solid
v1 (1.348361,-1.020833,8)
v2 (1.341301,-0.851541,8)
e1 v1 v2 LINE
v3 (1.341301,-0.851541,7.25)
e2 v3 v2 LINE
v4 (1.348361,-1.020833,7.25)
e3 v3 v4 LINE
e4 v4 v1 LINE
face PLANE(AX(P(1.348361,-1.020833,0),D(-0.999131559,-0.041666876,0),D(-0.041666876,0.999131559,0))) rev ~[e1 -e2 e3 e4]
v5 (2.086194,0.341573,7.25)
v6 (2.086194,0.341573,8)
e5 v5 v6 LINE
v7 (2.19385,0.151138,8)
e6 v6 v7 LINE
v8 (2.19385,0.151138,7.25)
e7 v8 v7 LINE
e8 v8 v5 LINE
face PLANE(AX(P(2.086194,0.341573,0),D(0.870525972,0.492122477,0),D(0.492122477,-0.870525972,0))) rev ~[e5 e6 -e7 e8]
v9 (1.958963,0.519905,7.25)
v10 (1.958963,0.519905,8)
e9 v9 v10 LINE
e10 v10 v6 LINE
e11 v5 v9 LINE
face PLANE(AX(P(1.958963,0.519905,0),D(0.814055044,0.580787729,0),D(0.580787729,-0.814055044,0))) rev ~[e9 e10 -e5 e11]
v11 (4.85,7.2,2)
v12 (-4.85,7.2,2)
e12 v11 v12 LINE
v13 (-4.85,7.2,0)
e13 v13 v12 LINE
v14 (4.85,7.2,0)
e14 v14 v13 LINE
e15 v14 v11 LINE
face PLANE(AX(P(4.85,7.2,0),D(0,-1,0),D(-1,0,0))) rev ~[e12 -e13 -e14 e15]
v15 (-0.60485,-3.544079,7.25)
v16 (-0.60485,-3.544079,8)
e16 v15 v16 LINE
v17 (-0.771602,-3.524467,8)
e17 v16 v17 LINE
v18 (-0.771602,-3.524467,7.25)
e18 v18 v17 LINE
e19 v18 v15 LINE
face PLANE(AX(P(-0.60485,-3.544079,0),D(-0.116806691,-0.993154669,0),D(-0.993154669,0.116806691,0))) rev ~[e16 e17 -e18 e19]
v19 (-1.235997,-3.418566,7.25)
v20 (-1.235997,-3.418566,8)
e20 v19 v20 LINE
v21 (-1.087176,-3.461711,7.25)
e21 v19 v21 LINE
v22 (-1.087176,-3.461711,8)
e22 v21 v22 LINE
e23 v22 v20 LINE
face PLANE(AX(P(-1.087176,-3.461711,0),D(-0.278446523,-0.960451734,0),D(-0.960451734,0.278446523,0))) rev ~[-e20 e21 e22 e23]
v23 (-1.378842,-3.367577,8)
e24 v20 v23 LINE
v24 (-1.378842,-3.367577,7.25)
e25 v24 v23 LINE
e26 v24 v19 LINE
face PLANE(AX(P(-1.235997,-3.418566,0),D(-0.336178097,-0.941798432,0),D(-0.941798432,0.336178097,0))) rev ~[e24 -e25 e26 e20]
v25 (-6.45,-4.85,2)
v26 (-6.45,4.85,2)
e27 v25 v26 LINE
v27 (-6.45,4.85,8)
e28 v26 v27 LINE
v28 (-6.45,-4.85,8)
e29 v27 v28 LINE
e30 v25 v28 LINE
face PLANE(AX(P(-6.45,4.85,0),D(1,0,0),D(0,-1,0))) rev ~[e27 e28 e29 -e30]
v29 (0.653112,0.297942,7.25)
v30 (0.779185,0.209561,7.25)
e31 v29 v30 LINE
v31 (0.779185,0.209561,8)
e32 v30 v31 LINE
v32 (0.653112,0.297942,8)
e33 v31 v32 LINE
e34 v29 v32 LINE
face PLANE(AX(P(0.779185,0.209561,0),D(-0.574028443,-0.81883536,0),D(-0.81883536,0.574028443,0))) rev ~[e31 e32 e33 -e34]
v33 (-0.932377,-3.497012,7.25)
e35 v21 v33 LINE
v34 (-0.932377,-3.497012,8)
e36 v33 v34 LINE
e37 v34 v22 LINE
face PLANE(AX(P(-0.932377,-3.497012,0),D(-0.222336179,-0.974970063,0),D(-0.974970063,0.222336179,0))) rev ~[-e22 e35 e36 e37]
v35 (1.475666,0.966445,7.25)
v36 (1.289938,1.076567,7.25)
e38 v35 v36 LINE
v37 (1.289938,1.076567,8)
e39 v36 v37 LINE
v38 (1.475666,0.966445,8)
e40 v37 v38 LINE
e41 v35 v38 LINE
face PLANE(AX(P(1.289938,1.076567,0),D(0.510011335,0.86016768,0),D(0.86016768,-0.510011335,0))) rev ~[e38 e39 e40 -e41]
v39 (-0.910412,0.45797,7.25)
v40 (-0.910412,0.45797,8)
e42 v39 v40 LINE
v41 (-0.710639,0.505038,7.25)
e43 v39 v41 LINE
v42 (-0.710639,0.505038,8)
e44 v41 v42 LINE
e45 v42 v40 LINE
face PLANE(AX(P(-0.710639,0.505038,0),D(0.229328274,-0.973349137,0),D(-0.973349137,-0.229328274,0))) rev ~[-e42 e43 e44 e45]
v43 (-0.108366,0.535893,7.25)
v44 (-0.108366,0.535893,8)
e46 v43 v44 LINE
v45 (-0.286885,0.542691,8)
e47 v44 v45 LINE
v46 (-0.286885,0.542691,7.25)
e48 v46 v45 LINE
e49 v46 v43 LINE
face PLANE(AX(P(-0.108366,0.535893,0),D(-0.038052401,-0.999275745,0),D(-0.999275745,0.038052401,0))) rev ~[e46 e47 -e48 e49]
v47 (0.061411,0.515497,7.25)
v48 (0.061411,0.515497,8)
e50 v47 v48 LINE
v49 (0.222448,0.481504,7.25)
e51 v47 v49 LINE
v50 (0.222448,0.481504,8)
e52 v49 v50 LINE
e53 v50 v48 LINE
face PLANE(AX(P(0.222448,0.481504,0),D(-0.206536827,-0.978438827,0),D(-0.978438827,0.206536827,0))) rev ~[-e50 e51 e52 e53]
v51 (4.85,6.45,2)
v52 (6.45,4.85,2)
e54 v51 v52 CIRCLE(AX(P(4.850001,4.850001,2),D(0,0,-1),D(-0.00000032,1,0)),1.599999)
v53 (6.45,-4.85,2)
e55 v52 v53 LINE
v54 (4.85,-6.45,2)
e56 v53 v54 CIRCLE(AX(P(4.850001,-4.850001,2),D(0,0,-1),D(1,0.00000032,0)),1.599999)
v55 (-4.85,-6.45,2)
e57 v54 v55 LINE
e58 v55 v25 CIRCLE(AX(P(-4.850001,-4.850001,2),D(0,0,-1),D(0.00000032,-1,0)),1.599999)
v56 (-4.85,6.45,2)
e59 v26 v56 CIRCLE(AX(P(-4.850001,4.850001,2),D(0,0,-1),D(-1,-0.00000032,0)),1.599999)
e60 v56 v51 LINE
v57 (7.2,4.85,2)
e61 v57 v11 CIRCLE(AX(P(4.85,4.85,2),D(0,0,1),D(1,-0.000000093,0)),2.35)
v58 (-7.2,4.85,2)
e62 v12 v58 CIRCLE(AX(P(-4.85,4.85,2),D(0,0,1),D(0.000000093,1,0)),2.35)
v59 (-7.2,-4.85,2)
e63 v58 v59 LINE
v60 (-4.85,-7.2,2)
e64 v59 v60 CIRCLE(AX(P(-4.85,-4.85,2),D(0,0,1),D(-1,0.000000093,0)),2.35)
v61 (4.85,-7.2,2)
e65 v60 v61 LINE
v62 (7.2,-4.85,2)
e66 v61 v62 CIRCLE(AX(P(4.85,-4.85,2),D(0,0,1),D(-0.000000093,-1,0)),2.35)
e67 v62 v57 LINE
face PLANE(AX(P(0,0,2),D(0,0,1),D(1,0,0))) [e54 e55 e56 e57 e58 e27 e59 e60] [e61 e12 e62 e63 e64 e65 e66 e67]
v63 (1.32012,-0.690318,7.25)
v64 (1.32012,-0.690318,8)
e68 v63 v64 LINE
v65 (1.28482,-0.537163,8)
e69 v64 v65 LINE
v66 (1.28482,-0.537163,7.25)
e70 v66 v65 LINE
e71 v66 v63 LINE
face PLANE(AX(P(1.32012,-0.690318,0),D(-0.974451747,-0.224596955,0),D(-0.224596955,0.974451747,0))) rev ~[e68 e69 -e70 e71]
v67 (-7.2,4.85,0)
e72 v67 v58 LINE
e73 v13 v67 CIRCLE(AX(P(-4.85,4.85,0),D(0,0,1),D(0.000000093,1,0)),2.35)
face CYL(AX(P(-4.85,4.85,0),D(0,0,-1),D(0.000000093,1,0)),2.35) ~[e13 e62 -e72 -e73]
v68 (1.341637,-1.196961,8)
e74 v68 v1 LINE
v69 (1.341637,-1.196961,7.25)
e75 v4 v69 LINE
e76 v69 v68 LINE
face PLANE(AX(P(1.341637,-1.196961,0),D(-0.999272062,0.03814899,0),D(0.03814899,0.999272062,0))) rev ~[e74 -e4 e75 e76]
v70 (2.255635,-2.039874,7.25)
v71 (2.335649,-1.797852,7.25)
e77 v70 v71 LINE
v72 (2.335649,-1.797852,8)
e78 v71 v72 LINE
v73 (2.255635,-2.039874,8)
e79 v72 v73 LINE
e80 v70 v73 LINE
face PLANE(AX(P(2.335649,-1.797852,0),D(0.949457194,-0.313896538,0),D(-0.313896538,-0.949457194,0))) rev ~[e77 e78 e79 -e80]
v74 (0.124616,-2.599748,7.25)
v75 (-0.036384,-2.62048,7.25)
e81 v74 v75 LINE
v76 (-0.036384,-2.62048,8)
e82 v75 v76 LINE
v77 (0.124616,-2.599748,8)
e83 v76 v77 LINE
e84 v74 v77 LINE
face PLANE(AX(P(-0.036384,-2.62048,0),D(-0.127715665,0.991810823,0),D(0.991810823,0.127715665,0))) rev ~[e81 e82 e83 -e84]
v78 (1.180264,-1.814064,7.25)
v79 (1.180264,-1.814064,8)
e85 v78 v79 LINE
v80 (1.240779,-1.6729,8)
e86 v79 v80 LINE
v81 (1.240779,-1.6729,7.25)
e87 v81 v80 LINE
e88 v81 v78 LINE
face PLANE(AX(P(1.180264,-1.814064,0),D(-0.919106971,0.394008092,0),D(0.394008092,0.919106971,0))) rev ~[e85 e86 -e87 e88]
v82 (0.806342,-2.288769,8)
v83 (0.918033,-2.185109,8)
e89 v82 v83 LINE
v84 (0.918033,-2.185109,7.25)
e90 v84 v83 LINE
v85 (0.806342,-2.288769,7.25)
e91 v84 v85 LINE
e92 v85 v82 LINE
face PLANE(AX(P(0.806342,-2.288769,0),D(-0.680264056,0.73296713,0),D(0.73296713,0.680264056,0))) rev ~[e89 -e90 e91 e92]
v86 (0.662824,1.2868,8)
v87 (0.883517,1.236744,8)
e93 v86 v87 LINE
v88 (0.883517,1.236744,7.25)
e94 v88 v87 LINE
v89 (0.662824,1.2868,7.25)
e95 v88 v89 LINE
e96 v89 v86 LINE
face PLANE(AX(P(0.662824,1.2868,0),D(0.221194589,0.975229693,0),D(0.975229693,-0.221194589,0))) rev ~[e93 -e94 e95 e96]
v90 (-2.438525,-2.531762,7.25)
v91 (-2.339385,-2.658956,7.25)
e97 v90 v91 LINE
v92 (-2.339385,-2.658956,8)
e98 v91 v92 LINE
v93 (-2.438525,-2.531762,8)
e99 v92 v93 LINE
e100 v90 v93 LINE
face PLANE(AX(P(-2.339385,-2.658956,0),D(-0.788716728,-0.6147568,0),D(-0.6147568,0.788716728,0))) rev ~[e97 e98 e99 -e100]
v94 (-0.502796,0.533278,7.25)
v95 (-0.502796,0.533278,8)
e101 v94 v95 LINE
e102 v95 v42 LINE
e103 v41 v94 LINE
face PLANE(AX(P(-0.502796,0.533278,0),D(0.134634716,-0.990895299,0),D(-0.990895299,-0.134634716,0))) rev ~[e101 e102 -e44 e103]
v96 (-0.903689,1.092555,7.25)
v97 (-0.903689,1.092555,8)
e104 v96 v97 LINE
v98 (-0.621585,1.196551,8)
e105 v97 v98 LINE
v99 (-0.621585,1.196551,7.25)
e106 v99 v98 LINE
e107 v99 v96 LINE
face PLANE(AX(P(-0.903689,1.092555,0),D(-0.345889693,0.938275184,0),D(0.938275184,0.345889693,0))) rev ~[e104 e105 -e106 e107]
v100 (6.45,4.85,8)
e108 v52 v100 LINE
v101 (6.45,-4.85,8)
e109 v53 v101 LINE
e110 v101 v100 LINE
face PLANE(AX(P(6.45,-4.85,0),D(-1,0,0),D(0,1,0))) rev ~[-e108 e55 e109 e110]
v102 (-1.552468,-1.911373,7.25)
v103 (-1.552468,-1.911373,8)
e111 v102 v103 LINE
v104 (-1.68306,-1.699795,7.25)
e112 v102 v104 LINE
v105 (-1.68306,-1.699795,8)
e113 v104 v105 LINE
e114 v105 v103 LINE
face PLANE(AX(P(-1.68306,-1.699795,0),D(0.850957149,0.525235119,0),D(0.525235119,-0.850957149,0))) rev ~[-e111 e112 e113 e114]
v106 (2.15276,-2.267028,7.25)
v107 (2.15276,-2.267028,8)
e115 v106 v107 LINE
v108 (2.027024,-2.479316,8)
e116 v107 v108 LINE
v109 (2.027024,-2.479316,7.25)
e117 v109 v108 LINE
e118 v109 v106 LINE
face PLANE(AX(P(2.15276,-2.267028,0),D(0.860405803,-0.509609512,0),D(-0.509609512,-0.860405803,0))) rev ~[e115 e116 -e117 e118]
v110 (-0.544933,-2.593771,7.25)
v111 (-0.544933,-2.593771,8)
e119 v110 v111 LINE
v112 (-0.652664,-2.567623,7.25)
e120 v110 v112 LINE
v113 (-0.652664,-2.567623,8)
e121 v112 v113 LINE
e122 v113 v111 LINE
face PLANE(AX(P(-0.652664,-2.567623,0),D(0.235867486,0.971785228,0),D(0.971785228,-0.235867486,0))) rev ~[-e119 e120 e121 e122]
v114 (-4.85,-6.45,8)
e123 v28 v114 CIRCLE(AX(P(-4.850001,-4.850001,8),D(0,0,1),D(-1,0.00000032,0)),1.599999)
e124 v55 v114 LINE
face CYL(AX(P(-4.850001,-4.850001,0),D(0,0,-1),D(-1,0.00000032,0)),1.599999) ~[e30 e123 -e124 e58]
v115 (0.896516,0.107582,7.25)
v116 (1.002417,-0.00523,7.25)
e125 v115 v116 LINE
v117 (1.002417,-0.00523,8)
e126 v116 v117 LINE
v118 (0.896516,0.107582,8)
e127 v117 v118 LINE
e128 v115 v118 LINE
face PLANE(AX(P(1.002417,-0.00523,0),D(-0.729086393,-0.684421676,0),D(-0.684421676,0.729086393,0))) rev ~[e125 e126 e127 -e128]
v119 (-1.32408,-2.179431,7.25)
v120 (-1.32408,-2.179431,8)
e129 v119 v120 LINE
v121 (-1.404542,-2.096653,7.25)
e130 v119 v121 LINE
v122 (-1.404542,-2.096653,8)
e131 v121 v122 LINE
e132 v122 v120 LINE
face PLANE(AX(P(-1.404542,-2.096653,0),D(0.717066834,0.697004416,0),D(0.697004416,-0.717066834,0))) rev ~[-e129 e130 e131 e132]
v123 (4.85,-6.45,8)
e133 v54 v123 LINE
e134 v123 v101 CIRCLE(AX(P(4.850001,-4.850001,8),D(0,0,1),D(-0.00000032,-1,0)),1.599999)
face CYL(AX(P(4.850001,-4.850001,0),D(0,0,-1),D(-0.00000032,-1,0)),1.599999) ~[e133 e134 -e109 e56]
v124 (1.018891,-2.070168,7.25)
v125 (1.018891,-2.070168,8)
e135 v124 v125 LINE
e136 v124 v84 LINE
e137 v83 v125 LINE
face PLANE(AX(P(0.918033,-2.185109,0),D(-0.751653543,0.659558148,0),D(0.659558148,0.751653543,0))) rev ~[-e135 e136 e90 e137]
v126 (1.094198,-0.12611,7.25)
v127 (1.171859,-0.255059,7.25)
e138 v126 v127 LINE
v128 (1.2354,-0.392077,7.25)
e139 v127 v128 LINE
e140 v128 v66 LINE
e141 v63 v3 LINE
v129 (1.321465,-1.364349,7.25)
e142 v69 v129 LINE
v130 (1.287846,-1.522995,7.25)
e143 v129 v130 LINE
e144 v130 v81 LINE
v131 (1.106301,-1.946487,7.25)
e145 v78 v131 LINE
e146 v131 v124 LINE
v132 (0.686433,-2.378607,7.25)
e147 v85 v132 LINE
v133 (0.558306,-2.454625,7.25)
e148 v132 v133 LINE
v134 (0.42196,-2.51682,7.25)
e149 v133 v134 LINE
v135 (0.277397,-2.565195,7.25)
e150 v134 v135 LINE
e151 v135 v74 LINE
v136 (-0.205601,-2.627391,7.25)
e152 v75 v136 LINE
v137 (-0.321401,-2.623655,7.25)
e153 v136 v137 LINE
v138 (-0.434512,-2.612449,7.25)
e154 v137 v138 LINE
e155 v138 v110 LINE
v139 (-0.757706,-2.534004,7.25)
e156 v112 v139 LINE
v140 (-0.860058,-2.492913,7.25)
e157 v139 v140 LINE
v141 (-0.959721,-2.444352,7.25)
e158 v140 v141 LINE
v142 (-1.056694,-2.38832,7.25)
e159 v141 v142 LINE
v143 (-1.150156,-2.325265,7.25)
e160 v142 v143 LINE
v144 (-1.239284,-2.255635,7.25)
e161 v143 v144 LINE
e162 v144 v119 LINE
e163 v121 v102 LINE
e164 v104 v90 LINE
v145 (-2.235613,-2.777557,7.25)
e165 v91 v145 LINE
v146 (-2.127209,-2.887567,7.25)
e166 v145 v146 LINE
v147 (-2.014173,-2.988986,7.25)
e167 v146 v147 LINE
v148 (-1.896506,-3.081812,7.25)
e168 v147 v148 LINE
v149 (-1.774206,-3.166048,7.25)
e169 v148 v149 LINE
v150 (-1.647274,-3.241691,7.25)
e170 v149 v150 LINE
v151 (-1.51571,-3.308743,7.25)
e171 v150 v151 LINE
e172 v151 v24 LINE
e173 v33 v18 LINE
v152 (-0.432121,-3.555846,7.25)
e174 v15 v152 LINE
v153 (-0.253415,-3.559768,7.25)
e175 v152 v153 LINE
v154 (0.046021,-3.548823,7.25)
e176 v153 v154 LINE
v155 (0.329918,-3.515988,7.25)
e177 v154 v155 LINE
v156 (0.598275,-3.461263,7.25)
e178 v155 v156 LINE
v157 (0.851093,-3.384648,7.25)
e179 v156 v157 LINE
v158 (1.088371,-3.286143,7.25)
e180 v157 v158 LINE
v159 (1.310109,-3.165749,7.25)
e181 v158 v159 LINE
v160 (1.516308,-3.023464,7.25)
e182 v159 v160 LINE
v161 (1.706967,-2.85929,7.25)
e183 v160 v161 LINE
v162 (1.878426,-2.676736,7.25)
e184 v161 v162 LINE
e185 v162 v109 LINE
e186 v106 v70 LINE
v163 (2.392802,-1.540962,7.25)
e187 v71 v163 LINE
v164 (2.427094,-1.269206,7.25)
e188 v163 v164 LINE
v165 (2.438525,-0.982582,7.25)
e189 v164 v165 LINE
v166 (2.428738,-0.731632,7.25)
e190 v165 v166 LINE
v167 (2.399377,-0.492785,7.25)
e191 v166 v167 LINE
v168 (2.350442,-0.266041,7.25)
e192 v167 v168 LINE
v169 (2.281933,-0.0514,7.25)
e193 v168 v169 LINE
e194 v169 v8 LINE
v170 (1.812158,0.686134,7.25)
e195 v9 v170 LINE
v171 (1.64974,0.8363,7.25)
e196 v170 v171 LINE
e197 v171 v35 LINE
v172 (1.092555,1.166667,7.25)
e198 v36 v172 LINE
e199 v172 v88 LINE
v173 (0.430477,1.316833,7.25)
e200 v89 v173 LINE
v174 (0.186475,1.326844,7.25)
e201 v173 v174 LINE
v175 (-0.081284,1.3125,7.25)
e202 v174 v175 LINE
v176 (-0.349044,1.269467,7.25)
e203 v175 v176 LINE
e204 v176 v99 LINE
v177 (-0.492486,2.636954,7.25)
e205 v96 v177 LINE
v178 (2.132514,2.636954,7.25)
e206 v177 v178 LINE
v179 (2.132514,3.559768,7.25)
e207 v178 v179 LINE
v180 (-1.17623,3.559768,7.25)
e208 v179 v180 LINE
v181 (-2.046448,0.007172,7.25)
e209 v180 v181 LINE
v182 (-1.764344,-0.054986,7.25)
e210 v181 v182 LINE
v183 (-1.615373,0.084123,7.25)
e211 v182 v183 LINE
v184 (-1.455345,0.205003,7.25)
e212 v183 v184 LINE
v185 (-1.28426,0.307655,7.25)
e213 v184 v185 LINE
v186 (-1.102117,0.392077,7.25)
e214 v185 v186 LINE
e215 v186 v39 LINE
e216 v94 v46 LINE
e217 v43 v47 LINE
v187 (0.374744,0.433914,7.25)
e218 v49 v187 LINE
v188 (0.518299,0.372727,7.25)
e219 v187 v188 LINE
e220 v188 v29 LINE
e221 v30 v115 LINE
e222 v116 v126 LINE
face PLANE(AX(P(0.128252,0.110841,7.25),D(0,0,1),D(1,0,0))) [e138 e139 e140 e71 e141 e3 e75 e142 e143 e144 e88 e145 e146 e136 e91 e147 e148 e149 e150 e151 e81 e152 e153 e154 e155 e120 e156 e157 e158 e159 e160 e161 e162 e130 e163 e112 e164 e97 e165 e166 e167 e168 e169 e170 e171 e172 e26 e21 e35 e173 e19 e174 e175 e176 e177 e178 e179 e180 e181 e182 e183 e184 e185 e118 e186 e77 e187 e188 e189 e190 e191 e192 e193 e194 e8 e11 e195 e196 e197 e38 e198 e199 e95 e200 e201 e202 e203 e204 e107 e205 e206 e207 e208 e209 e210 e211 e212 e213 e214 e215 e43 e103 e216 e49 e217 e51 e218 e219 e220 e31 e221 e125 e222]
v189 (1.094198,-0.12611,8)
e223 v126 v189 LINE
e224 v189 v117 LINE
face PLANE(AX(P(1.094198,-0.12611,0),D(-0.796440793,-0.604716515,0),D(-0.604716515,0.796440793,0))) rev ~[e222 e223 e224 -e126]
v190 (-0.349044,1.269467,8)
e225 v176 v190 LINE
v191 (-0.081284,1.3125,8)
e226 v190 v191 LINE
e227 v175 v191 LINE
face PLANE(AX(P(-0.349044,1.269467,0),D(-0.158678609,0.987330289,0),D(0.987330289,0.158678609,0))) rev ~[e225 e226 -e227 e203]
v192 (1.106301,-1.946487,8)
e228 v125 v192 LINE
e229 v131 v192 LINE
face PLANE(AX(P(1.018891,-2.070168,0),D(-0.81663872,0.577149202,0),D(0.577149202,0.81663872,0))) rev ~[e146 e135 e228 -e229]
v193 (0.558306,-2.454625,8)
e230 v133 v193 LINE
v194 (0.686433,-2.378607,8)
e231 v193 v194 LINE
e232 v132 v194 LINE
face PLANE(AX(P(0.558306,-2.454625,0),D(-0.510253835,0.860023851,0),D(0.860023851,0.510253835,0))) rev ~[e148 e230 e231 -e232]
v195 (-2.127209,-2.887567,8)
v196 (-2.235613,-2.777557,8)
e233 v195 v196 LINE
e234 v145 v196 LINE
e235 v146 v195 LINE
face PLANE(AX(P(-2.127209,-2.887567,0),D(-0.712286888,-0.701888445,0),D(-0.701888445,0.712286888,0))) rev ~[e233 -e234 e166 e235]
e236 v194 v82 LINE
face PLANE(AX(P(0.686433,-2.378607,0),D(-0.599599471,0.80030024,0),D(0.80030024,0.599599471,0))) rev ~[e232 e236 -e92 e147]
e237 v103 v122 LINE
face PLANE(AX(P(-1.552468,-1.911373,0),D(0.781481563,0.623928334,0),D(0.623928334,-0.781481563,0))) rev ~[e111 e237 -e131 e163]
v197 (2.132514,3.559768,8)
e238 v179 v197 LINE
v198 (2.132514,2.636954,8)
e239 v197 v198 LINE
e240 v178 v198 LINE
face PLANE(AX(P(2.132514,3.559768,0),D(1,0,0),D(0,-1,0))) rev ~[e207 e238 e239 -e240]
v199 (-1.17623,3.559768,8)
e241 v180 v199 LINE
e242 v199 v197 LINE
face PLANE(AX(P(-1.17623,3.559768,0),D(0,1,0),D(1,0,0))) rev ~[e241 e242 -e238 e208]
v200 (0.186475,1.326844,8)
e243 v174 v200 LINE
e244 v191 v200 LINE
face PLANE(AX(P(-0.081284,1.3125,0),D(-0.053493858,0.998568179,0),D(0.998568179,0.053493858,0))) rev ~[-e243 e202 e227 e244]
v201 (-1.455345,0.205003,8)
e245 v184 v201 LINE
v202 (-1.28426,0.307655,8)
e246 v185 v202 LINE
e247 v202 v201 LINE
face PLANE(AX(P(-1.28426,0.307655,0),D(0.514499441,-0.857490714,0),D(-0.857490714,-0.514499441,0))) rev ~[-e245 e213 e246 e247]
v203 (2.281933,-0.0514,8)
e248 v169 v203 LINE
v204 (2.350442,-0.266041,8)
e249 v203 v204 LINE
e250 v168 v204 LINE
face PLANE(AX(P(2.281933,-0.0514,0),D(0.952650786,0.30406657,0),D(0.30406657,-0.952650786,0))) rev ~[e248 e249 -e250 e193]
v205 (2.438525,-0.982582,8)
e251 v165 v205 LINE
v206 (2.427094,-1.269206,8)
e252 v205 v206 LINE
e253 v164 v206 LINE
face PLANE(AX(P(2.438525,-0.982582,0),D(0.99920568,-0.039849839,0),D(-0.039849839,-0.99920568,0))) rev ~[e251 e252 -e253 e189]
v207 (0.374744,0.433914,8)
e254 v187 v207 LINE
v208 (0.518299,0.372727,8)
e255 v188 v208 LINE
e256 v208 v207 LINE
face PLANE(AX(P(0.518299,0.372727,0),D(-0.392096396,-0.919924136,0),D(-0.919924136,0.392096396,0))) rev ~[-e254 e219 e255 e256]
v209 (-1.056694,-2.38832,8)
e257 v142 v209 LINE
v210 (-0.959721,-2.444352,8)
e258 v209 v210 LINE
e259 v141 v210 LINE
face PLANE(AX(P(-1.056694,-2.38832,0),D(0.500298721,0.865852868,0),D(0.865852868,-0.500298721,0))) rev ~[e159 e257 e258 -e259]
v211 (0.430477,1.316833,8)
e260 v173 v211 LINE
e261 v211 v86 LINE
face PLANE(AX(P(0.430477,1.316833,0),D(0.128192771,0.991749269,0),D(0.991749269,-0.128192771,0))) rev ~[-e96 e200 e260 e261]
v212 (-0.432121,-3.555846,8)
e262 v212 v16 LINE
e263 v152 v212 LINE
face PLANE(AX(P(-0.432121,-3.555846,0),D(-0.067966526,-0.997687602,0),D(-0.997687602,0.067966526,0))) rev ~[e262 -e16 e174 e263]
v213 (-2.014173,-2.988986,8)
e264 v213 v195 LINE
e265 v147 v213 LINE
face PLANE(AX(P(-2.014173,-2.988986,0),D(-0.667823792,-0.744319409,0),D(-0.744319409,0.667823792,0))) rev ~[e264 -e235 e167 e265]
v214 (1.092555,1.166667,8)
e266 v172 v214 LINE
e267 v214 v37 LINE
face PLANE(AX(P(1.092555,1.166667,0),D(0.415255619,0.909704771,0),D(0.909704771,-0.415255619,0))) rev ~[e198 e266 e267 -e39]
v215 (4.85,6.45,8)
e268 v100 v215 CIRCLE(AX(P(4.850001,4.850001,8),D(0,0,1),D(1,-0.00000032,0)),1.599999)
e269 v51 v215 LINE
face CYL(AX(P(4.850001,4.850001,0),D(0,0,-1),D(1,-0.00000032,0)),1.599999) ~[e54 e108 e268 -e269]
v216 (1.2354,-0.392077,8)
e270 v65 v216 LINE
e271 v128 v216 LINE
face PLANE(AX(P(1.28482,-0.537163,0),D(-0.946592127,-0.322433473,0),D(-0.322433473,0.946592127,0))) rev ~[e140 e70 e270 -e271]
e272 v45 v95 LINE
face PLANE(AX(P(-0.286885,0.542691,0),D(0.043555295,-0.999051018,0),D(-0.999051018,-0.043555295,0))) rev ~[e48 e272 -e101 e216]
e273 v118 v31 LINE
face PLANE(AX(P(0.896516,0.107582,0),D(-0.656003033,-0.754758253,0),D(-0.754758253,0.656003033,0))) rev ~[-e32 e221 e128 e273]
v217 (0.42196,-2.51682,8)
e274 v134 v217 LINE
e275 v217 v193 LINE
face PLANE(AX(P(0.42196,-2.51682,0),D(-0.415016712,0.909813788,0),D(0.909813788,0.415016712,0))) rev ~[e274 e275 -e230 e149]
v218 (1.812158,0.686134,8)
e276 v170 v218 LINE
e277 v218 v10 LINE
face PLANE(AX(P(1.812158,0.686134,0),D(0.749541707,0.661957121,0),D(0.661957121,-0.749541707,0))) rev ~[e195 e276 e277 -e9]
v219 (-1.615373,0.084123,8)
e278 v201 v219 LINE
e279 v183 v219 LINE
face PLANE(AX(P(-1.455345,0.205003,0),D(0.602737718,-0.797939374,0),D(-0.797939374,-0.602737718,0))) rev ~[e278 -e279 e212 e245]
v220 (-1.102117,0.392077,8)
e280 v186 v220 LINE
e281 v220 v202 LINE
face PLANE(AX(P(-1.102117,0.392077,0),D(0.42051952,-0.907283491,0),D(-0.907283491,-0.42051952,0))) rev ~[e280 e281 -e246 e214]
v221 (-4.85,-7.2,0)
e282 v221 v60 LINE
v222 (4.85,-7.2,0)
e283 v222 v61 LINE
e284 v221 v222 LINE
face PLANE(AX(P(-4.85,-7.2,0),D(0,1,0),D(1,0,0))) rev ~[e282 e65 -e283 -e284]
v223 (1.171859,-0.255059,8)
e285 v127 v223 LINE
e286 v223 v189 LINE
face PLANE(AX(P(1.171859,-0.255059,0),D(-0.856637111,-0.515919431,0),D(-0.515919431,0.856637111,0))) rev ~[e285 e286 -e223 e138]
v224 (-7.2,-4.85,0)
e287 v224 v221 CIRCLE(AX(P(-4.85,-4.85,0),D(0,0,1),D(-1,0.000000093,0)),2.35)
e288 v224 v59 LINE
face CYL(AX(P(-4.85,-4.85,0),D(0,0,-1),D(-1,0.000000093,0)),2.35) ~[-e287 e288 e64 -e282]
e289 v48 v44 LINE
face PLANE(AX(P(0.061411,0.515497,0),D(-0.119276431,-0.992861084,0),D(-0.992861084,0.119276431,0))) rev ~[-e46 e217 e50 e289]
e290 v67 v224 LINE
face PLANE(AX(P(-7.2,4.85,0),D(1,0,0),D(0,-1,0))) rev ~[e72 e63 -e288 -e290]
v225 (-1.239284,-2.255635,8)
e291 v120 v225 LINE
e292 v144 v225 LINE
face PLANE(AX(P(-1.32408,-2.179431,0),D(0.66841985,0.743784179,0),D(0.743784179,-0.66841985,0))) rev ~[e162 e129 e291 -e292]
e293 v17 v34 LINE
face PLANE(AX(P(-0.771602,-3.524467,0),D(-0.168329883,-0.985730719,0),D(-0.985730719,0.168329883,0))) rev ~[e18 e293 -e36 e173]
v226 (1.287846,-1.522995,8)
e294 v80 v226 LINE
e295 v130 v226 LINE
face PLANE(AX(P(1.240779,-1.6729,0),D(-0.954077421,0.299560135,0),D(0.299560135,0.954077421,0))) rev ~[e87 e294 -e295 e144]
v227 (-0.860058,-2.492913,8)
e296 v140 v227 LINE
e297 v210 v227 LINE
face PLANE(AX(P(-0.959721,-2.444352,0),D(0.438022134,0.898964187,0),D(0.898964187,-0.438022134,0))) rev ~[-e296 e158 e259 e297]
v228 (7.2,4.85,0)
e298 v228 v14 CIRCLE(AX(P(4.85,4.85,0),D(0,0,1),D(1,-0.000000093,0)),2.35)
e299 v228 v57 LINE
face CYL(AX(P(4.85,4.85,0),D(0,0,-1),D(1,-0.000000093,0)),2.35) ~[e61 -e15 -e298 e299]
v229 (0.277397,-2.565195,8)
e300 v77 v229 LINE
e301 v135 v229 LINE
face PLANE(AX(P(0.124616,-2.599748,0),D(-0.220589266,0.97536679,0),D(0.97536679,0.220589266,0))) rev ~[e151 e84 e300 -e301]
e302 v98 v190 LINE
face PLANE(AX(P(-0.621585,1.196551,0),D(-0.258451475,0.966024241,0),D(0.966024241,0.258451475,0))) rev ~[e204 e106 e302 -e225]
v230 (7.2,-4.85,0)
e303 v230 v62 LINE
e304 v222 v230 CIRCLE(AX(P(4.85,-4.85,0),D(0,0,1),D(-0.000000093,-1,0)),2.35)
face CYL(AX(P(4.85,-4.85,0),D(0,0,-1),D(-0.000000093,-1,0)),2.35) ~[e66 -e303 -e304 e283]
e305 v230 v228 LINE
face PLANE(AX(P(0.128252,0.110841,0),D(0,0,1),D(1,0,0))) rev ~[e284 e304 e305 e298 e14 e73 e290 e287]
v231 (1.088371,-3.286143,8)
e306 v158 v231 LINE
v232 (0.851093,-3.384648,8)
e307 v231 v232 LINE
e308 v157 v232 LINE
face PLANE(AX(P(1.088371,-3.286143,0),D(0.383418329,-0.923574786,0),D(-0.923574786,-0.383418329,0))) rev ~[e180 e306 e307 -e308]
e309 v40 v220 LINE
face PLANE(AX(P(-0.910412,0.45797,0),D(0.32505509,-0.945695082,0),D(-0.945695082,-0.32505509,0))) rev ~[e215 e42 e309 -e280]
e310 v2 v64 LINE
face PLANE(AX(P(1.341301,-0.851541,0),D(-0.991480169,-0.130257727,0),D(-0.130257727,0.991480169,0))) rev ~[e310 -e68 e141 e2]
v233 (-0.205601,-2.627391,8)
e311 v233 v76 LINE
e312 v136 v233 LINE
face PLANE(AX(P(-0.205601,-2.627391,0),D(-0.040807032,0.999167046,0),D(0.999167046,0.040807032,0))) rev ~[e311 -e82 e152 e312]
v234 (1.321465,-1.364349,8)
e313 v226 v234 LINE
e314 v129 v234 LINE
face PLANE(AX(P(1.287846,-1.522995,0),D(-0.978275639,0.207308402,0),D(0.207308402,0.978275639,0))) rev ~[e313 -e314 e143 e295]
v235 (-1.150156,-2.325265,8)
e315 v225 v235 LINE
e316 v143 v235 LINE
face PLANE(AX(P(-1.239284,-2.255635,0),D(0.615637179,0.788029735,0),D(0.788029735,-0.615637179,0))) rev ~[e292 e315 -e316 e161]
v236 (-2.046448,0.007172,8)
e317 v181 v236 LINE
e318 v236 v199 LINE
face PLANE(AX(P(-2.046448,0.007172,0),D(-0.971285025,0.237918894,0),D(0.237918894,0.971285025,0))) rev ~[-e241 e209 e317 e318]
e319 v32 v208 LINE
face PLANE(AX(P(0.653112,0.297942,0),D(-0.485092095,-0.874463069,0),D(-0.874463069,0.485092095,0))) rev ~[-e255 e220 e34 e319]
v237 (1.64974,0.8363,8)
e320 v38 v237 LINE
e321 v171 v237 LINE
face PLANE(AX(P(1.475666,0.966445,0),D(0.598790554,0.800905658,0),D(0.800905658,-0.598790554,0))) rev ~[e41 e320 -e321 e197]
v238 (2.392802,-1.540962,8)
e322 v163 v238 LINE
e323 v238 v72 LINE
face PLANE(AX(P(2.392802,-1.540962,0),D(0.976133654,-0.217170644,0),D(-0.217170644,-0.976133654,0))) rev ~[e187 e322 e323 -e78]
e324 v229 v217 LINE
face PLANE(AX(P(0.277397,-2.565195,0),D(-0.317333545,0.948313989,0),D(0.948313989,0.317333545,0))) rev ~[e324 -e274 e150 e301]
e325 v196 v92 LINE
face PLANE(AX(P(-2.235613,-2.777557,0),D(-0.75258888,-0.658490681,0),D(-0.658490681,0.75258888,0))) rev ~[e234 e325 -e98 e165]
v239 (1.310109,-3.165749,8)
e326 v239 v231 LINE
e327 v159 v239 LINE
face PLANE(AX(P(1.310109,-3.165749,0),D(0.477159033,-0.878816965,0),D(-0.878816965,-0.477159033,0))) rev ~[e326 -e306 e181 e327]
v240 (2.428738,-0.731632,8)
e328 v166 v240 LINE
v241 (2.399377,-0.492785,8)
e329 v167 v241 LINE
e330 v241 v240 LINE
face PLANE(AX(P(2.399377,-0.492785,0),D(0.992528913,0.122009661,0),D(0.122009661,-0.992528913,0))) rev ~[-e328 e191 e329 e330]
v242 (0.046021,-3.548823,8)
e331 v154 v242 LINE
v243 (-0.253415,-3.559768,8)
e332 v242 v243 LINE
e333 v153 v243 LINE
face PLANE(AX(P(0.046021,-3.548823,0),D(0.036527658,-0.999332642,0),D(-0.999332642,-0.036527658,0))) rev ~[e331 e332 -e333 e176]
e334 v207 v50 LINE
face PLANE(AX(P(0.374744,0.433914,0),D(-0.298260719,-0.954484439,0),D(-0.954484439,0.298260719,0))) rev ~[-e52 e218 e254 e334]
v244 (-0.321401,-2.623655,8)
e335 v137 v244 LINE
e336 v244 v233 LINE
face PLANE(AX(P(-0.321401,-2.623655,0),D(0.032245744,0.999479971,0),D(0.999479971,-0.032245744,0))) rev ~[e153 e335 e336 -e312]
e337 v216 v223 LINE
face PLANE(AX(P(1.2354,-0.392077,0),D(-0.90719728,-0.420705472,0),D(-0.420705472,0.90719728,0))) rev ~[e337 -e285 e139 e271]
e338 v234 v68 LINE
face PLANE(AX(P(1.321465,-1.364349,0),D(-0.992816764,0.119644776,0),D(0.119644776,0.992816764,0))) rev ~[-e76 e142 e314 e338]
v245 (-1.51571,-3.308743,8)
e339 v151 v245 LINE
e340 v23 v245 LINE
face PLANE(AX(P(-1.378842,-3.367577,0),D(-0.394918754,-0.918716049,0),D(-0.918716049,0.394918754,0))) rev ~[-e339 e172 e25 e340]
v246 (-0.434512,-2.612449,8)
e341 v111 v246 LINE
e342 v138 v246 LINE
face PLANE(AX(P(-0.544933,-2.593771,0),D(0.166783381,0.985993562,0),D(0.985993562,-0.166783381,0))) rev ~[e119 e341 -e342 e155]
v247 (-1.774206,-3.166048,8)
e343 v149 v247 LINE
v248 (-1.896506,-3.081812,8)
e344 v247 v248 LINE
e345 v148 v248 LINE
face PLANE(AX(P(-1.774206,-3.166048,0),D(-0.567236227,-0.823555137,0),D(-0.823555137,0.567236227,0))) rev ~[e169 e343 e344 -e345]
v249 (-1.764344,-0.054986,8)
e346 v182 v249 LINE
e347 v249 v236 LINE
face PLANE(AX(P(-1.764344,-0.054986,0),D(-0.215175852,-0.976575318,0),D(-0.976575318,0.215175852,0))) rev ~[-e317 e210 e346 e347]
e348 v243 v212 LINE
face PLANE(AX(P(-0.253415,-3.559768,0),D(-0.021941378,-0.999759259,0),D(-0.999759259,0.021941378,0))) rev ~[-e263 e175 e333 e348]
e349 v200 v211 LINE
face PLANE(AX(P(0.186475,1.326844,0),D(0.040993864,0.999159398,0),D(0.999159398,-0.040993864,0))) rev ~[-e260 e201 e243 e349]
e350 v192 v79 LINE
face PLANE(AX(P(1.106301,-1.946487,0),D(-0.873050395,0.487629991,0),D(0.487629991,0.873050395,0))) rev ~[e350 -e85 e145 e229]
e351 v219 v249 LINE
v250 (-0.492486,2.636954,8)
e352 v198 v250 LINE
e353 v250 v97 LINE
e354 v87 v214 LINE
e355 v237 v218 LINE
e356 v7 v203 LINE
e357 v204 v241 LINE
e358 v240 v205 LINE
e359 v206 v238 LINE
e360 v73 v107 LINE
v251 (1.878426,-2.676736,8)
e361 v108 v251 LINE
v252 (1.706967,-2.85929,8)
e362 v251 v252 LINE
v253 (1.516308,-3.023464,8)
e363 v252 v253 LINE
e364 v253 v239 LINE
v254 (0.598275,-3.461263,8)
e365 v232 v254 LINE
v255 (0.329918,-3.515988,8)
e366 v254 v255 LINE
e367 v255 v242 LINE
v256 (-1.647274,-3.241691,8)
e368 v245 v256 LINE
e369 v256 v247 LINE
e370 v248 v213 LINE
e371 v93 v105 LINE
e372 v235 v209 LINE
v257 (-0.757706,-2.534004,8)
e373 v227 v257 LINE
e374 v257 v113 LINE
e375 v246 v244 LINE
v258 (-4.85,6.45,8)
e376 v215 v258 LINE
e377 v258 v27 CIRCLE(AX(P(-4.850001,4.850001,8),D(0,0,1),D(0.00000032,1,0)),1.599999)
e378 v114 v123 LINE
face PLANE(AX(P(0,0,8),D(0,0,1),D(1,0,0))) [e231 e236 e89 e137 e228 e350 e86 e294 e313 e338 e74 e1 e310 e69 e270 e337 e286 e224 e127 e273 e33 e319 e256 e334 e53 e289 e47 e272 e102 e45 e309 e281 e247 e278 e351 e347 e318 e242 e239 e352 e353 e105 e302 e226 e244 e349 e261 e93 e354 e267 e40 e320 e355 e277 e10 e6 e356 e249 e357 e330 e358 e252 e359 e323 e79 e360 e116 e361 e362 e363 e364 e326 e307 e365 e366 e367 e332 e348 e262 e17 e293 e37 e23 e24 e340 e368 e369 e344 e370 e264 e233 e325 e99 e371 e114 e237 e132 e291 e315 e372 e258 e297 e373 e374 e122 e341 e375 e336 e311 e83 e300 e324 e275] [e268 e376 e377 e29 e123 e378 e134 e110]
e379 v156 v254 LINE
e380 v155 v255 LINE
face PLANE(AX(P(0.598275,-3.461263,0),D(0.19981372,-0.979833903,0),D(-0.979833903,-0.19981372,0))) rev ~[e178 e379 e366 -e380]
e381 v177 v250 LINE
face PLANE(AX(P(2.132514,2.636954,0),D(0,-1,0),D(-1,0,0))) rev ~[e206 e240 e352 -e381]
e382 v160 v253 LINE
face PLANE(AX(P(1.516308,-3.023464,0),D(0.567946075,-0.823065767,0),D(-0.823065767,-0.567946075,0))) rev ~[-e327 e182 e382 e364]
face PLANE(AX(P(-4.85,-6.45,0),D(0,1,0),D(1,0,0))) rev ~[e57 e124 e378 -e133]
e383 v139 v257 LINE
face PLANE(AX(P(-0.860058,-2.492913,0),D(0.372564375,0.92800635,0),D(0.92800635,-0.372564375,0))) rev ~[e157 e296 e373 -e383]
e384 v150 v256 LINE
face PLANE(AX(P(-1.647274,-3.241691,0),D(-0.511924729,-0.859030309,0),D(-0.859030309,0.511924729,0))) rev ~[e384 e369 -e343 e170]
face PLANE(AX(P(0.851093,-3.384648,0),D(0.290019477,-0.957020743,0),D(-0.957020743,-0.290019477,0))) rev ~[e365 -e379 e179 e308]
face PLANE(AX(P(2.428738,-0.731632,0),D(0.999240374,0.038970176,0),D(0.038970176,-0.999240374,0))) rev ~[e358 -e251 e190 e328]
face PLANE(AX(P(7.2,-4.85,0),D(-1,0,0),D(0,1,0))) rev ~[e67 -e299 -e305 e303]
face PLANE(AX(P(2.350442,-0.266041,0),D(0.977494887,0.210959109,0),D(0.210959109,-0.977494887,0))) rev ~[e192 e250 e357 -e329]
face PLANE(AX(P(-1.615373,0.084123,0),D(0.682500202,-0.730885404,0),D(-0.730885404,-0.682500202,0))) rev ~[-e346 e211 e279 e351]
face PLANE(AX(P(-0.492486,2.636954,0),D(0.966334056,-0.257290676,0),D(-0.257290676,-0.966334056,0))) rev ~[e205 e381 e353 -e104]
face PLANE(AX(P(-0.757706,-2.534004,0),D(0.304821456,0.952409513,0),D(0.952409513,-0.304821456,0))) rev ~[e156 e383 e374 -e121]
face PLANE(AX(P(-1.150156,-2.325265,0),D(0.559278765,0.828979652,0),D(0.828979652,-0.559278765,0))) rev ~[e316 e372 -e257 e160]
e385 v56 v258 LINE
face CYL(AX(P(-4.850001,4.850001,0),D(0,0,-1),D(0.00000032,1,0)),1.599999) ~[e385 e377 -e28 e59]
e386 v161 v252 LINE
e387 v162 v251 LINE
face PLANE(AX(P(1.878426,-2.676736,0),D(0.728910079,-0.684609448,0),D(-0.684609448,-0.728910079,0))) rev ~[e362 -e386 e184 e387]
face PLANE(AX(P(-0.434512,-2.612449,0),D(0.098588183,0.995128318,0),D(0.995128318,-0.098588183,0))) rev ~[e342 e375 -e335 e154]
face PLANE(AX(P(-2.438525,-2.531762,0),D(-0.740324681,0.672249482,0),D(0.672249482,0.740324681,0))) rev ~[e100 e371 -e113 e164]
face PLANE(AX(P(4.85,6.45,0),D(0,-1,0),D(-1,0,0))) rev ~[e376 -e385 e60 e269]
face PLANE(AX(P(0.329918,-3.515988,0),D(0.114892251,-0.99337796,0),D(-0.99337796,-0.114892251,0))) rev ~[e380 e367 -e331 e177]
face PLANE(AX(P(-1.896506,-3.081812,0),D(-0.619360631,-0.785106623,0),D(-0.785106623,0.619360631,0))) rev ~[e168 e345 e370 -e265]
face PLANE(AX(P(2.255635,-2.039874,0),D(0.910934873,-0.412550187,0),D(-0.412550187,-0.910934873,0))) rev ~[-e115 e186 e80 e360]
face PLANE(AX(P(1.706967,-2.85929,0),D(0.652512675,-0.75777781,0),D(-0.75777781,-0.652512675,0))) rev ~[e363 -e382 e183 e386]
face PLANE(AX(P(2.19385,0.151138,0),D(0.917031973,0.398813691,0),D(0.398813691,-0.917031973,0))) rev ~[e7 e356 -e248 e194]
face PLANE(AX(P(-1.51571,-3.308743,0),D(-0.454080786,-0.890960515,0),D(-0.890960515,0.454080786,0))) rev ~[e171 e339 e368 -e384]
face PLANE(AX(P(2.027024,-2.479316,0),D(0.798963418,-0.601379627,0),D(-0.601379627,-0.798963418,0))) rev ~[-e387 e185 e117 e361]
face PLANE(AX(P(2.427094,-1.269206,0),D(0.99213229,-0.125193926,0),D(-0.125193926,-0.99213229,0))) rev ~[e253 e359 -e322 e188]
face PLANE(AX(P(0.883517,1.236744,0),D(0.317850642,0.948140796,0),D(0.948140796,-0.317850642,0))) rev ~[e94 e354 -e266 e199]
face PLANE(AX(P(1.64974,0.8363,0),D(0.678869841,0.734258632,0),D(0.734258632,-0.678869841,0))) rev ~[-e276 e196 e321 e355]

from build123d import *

# Parameters (mm, degrees)
F1_DEPTH = 2
F2_DEPTH = 8
F3_DEPTH = 7.25


with BuildPart() as f1:
    # F0 (on Top) → F1 (new body)
    with BuildSketch(Plane.XY):
        with BuildLine():
            Line((4.85, 7.2), (-4.85, 7.2))
            ThreePointArc((-4.85, 7.2), (-6.511701, 6.511701), (-7.2, 4.85))
            Line((-7.2, 4.85), (-7.2, -4.85))
            ThreePointArc((-7.2, -4.85), (-6.511701, -6.511701), (-4.85, -7.2))
            Line((-4.85, -7.2), (4.85, -7.2))
            ThreePointArc((4.85, -7.2), (6.511701, -6.511701), (7.2, -4.85))
            Line((7.2, -4.85), (7.2, 4.85))
            ThreePointArc((7.2, 4.85), (6.511701, 6.511701), (4.85, 7.2))
        make_face()
        with BuildLine():
            ThreePointArc((6.45, -4.85), (5.981371, -5.981371), (4.85, -6.45))
            Line((4.85, -6.45), (-4.85, -6.45))
            ThreePointArc((-4.85, -6.45), (-5.981371, -5.981371), (-6.45, -4.85))
            Line((-6.45, -4.85), (-6.45, 4.85))
            ThreePointArc((-6.45, 4.85), (-5.981371, 5.981371), (-4.85, 6.45))
            Line((-4.85, 6.45), (4.85, 6.45))
            ThreePointArc((4.85, 6.45), (5.981371, 5.981371), (6.45, 4.85))
            Line((6.45, 4.85), (6.45, -4.85))
        make_face(mode=Mode.SUBTRACT)
    extrude(amount=F1_DEPTH)

    # F0 (on Top) → F2 (join)
    with BuildSketch(Plane.XY):
        with BuildLine():
            Line((-4.85, -6.45), (4.85, -6.45))
            ThreePointArc((4.85, -6.45), (5.981371, -5.981371), (6.45, -4.85))
            Line((6.45, -4.85), (6.45, 4.85))
            ThreePointArc((6.45, 4.85), (5.981371, 5.981371), (4.85, 6.45))
            Line((4.85, 6.45), (-4.85, 6.45))
            ThreePointArc((-4.85, 6.45), (-5.981371, 5.981371), (-6.45, 4.85))
            Line((-6.45, 4.85), (-6.45, -4.85))
            ThreePointArc((-6.45, -4.85), (-5.981371, -5.981371), (-4.85, -6.45))
        make_face()
        Polygon((-2.438525, -2.531762), (-1.68306, -1.699795), (-1.552468, -1.911373), (-1.404542, -2.096653), (-1.32408, -2.179431), (-1.239284, -2.255635), (-1.150156, -2.325265), (-1.056694, -2.38832), (-0.959721, -2.444352), (-0.860058, -2.492913), (-0.757706, -2.534004), (-0.652664, -2.567623), (-0.544933, -2.593771), (-0.434512, -2.612449), (-0.321401, -2.623655), (-0.205601, -2.627391), (-0.036384, -2.62048), (0.124616, -2.599748), (0.277397, -2.565195), (0.42196, -2.51682), (0.558306, -2.454625), (0.686433, -2.378607), (0.806342, -2.288769), (0.918033, -2.185109), (1.018891, -2.070168), (1.106301, -1.946487), (1.180264, -1.814064), (1.240779, -1.6729), (1.287846, -1.522995), (1.321465, -1.364349), (1.341637, -1.196961), (1.348361, -1.020833), (1.341301, -0.851541), (1.32012, -0.690318), (1.28482, -0.537163), (1.2354, -0.392077), (1.171859, -0.255059), (1.094198, -0.12611), (1.002417, -0.00523), (0.896516, 0.107582), (0.779185, 0.209561), (0.653112, 0.297942), (0.518299, 0.372727), (0.374744, 0.433914), (0.222448, 0.481504), (0.061411, 0.515497), (-0.108366, 0.535893), (-0.286885, 0.542691), (-0.502796, 0.533278), (-0.710639, 0.505038), (-0.910412, 0.45797), (-1.102117, 0.392077), (-1.28426, 0.307655), (-1.455345, 0.205003), (-1.615373, 0.084123), (-1.764344, -0.054986), (-2.046448, 0.007172), (-1.17623, 3.559768), (2.132514, 3.559768), (2.132514, 2.636954), (-0.492486, 2.636954), (-0.903689, 1.092555), (-0.621585, 1.196551), (-0.349044, 1.269467), (-0.081284, 1.3125), (0.186475, 1.326844), (0.430477, 1.316833), (0.662824, 1.2868), (0.883517, 1.236744), (1.092555, 1.166667), (1.289938, 1.076567), (1.475666, 0.966445), (1.64974, 0.8363), (1.812158, 0.686134), (1.958963, 0.519905), (2.086194, 0.341573), (2.19385, 0.151138), (2.281933, -0.0514), (2.350442, -0.266041), (2.399377, -0.492785), (2.428738, -0.731632), (2.438525, -0.982582), (2.427094, -1.269206), (2.392802, -1.540962), (2.335649, -1.797852), (2.255635, -2.039874), (2.15276, -2.267028), (2.027024, -2.479316), (1.878426, -2.676736), (1.706967, -2.85929), (1.516308, -3.023464), (1.310109, -3.165749), (1.088371, -3.286143), (0.851093, -3.384648), (0.598275, -3.461263), (0.329918, -3.515988), (0.046021, -3.548823), (-0.253415, -3.559768), (-0.432121, -3.555846), (-0.60485, -3.544079), (-0.771602, -3.524467), (-0.932377, -3.497012), (-1.087176, -3.461711), (-1.235997, -3.418566), (-1.378842, -3.367577), (-1.51571, -3.308743), (-1.647274, -3.241691), (-1.774206, -3.166048), (-1.896506, -3.081812), (-2.014173, -2.988986), (-2.127209, -2.887567), (-2.235613, -2.777557), (-2.339385, -2.658956), align=None, mode=Mode.SUBTRACT)
    extrude(amount=F2_DEPTH)

    # F0 (on Top) → F3 (join)
    with BuildSketch(Plane.XY):
        Polygon((-1.552468, -1.911373), (-1.68306, -1.699795), (-2.438525, -2.531762), (-2.339385, -2.658956), (-2.235613, -2.777557), (-2.127209, -2.887567), (-2.014173, -2.988986), (-1.896506, -3.081812), (-1.774206, -3.166048), (-1.647274, -3.241691), (-1.51571, -3.308743), (-1.378842, -3.367577), (-1.235997, -3.418566), (-1.087176, -3.461711), (-0.932377, -3.497012), (-0.771602, -3.524467), (-0.60485, -3.544079), (-0.432121, -3.555846), (-0.253415, -3.559768), (0.046021, -3.548823), (0.329918, -3.515988), (0.598275, -3.461263), (0.851093, -3.384648), (1.088371, -3.286143), (1.310109, -3.165749), (1.516308, -3.023464), (1.706967, -2.85929), (1.878426, -2.676736), (2.027024, -2.479316), (2.15276, -2.267028), (2.255635, -2.039874), (2.335649, -1.797852), (2.392802, -1.540962), (2.427094, -1.269206), (2.438525, -0.982582), (2.428738, -0.731632), (2.399377, -0.492785), (2.350442, -0.266041), (2.281933, -0.0514), (2.19385, 0.151138), (2.086194, 0.341573), (1.958963, 0.519905), (1.812158, 0.686134), (1.64974, 0.8363), (1.475666, 0.966445), (1.289938, 1.076567), (1.092555, 1.166667), (0.883517, 1.236744), (0.662824, 1.2868), (0.430477, 1.316833), (0.186475, 1.326844), (-0.081284, 1.3125), (-0.349044, 1.269467), (-0.621585, 1.196551), (-0.903689, 1.092555), (-0.492486, 2.636954), (2.132514, 2.636954), (2.132514, 3.559768), (-1.17623, 3.559768), (-2.046448, 0.007172), (-1.764344, -0.054986), (-1.615373, 0.084123), (-1.455345, 0.205003), (-1.28426, 0.307655), (-1.102117, 0.392077), (-0.910412, 0.45797), (-0.710639, 0.505038), (-0.502796, 0.533278), (-0.286885, 0.542691), (-0.108366, 0.535893), (0.061411, 0.515497), (0.222448, 0.481504), (0.374744, 0.433914), (0.518299, 0.372727), (0.653112, 0.297942), (0.779185, 0.209561), (0.896516, 0.107582), (1.002417, -0.00523), (1.094198, -0.12611), (1.171859, -0.255059), (1.2354, -0.392077), (1.28482, -0.537163), (1.32012, -0.690318), (1.341301, -0.851541), (1.348361, -1.020833), (1.341637, -1.196961), (1.321465, -1.364349), (1.287846, -1.522995), (1.240779, -1.6729), (1.180264, -1.814064), (1.106301, -1.946487), (1.018891, -2.070168), (0.918033, -2.185109), (0.806342, -2.288769), (0.686433, -2.378607), (0.558306, -2.454625), (0.42196, -2.51682), (0.277397, -2.565195), (0.124616, -2.599748), (-0.036384, -2.62048), (-0.205601, -2.627391), (-0.321401, -2.623655), (-0.434512, -2.612449), (-0.544933, -2.593771), (-0.652664, -2.567623), (-0.757706, -2.534004), (-0.860058, -2.492913), (-0.959721, -2.444352), (-1.056694, -2.38832), (-1.150156, -2.325265), (-1.239284, -2.255635), (-1.32408, -2.179431), (-1.404542, -2.096653), align=None)
    extrude(amount=F3_DEPTH)


solid = f1.part
